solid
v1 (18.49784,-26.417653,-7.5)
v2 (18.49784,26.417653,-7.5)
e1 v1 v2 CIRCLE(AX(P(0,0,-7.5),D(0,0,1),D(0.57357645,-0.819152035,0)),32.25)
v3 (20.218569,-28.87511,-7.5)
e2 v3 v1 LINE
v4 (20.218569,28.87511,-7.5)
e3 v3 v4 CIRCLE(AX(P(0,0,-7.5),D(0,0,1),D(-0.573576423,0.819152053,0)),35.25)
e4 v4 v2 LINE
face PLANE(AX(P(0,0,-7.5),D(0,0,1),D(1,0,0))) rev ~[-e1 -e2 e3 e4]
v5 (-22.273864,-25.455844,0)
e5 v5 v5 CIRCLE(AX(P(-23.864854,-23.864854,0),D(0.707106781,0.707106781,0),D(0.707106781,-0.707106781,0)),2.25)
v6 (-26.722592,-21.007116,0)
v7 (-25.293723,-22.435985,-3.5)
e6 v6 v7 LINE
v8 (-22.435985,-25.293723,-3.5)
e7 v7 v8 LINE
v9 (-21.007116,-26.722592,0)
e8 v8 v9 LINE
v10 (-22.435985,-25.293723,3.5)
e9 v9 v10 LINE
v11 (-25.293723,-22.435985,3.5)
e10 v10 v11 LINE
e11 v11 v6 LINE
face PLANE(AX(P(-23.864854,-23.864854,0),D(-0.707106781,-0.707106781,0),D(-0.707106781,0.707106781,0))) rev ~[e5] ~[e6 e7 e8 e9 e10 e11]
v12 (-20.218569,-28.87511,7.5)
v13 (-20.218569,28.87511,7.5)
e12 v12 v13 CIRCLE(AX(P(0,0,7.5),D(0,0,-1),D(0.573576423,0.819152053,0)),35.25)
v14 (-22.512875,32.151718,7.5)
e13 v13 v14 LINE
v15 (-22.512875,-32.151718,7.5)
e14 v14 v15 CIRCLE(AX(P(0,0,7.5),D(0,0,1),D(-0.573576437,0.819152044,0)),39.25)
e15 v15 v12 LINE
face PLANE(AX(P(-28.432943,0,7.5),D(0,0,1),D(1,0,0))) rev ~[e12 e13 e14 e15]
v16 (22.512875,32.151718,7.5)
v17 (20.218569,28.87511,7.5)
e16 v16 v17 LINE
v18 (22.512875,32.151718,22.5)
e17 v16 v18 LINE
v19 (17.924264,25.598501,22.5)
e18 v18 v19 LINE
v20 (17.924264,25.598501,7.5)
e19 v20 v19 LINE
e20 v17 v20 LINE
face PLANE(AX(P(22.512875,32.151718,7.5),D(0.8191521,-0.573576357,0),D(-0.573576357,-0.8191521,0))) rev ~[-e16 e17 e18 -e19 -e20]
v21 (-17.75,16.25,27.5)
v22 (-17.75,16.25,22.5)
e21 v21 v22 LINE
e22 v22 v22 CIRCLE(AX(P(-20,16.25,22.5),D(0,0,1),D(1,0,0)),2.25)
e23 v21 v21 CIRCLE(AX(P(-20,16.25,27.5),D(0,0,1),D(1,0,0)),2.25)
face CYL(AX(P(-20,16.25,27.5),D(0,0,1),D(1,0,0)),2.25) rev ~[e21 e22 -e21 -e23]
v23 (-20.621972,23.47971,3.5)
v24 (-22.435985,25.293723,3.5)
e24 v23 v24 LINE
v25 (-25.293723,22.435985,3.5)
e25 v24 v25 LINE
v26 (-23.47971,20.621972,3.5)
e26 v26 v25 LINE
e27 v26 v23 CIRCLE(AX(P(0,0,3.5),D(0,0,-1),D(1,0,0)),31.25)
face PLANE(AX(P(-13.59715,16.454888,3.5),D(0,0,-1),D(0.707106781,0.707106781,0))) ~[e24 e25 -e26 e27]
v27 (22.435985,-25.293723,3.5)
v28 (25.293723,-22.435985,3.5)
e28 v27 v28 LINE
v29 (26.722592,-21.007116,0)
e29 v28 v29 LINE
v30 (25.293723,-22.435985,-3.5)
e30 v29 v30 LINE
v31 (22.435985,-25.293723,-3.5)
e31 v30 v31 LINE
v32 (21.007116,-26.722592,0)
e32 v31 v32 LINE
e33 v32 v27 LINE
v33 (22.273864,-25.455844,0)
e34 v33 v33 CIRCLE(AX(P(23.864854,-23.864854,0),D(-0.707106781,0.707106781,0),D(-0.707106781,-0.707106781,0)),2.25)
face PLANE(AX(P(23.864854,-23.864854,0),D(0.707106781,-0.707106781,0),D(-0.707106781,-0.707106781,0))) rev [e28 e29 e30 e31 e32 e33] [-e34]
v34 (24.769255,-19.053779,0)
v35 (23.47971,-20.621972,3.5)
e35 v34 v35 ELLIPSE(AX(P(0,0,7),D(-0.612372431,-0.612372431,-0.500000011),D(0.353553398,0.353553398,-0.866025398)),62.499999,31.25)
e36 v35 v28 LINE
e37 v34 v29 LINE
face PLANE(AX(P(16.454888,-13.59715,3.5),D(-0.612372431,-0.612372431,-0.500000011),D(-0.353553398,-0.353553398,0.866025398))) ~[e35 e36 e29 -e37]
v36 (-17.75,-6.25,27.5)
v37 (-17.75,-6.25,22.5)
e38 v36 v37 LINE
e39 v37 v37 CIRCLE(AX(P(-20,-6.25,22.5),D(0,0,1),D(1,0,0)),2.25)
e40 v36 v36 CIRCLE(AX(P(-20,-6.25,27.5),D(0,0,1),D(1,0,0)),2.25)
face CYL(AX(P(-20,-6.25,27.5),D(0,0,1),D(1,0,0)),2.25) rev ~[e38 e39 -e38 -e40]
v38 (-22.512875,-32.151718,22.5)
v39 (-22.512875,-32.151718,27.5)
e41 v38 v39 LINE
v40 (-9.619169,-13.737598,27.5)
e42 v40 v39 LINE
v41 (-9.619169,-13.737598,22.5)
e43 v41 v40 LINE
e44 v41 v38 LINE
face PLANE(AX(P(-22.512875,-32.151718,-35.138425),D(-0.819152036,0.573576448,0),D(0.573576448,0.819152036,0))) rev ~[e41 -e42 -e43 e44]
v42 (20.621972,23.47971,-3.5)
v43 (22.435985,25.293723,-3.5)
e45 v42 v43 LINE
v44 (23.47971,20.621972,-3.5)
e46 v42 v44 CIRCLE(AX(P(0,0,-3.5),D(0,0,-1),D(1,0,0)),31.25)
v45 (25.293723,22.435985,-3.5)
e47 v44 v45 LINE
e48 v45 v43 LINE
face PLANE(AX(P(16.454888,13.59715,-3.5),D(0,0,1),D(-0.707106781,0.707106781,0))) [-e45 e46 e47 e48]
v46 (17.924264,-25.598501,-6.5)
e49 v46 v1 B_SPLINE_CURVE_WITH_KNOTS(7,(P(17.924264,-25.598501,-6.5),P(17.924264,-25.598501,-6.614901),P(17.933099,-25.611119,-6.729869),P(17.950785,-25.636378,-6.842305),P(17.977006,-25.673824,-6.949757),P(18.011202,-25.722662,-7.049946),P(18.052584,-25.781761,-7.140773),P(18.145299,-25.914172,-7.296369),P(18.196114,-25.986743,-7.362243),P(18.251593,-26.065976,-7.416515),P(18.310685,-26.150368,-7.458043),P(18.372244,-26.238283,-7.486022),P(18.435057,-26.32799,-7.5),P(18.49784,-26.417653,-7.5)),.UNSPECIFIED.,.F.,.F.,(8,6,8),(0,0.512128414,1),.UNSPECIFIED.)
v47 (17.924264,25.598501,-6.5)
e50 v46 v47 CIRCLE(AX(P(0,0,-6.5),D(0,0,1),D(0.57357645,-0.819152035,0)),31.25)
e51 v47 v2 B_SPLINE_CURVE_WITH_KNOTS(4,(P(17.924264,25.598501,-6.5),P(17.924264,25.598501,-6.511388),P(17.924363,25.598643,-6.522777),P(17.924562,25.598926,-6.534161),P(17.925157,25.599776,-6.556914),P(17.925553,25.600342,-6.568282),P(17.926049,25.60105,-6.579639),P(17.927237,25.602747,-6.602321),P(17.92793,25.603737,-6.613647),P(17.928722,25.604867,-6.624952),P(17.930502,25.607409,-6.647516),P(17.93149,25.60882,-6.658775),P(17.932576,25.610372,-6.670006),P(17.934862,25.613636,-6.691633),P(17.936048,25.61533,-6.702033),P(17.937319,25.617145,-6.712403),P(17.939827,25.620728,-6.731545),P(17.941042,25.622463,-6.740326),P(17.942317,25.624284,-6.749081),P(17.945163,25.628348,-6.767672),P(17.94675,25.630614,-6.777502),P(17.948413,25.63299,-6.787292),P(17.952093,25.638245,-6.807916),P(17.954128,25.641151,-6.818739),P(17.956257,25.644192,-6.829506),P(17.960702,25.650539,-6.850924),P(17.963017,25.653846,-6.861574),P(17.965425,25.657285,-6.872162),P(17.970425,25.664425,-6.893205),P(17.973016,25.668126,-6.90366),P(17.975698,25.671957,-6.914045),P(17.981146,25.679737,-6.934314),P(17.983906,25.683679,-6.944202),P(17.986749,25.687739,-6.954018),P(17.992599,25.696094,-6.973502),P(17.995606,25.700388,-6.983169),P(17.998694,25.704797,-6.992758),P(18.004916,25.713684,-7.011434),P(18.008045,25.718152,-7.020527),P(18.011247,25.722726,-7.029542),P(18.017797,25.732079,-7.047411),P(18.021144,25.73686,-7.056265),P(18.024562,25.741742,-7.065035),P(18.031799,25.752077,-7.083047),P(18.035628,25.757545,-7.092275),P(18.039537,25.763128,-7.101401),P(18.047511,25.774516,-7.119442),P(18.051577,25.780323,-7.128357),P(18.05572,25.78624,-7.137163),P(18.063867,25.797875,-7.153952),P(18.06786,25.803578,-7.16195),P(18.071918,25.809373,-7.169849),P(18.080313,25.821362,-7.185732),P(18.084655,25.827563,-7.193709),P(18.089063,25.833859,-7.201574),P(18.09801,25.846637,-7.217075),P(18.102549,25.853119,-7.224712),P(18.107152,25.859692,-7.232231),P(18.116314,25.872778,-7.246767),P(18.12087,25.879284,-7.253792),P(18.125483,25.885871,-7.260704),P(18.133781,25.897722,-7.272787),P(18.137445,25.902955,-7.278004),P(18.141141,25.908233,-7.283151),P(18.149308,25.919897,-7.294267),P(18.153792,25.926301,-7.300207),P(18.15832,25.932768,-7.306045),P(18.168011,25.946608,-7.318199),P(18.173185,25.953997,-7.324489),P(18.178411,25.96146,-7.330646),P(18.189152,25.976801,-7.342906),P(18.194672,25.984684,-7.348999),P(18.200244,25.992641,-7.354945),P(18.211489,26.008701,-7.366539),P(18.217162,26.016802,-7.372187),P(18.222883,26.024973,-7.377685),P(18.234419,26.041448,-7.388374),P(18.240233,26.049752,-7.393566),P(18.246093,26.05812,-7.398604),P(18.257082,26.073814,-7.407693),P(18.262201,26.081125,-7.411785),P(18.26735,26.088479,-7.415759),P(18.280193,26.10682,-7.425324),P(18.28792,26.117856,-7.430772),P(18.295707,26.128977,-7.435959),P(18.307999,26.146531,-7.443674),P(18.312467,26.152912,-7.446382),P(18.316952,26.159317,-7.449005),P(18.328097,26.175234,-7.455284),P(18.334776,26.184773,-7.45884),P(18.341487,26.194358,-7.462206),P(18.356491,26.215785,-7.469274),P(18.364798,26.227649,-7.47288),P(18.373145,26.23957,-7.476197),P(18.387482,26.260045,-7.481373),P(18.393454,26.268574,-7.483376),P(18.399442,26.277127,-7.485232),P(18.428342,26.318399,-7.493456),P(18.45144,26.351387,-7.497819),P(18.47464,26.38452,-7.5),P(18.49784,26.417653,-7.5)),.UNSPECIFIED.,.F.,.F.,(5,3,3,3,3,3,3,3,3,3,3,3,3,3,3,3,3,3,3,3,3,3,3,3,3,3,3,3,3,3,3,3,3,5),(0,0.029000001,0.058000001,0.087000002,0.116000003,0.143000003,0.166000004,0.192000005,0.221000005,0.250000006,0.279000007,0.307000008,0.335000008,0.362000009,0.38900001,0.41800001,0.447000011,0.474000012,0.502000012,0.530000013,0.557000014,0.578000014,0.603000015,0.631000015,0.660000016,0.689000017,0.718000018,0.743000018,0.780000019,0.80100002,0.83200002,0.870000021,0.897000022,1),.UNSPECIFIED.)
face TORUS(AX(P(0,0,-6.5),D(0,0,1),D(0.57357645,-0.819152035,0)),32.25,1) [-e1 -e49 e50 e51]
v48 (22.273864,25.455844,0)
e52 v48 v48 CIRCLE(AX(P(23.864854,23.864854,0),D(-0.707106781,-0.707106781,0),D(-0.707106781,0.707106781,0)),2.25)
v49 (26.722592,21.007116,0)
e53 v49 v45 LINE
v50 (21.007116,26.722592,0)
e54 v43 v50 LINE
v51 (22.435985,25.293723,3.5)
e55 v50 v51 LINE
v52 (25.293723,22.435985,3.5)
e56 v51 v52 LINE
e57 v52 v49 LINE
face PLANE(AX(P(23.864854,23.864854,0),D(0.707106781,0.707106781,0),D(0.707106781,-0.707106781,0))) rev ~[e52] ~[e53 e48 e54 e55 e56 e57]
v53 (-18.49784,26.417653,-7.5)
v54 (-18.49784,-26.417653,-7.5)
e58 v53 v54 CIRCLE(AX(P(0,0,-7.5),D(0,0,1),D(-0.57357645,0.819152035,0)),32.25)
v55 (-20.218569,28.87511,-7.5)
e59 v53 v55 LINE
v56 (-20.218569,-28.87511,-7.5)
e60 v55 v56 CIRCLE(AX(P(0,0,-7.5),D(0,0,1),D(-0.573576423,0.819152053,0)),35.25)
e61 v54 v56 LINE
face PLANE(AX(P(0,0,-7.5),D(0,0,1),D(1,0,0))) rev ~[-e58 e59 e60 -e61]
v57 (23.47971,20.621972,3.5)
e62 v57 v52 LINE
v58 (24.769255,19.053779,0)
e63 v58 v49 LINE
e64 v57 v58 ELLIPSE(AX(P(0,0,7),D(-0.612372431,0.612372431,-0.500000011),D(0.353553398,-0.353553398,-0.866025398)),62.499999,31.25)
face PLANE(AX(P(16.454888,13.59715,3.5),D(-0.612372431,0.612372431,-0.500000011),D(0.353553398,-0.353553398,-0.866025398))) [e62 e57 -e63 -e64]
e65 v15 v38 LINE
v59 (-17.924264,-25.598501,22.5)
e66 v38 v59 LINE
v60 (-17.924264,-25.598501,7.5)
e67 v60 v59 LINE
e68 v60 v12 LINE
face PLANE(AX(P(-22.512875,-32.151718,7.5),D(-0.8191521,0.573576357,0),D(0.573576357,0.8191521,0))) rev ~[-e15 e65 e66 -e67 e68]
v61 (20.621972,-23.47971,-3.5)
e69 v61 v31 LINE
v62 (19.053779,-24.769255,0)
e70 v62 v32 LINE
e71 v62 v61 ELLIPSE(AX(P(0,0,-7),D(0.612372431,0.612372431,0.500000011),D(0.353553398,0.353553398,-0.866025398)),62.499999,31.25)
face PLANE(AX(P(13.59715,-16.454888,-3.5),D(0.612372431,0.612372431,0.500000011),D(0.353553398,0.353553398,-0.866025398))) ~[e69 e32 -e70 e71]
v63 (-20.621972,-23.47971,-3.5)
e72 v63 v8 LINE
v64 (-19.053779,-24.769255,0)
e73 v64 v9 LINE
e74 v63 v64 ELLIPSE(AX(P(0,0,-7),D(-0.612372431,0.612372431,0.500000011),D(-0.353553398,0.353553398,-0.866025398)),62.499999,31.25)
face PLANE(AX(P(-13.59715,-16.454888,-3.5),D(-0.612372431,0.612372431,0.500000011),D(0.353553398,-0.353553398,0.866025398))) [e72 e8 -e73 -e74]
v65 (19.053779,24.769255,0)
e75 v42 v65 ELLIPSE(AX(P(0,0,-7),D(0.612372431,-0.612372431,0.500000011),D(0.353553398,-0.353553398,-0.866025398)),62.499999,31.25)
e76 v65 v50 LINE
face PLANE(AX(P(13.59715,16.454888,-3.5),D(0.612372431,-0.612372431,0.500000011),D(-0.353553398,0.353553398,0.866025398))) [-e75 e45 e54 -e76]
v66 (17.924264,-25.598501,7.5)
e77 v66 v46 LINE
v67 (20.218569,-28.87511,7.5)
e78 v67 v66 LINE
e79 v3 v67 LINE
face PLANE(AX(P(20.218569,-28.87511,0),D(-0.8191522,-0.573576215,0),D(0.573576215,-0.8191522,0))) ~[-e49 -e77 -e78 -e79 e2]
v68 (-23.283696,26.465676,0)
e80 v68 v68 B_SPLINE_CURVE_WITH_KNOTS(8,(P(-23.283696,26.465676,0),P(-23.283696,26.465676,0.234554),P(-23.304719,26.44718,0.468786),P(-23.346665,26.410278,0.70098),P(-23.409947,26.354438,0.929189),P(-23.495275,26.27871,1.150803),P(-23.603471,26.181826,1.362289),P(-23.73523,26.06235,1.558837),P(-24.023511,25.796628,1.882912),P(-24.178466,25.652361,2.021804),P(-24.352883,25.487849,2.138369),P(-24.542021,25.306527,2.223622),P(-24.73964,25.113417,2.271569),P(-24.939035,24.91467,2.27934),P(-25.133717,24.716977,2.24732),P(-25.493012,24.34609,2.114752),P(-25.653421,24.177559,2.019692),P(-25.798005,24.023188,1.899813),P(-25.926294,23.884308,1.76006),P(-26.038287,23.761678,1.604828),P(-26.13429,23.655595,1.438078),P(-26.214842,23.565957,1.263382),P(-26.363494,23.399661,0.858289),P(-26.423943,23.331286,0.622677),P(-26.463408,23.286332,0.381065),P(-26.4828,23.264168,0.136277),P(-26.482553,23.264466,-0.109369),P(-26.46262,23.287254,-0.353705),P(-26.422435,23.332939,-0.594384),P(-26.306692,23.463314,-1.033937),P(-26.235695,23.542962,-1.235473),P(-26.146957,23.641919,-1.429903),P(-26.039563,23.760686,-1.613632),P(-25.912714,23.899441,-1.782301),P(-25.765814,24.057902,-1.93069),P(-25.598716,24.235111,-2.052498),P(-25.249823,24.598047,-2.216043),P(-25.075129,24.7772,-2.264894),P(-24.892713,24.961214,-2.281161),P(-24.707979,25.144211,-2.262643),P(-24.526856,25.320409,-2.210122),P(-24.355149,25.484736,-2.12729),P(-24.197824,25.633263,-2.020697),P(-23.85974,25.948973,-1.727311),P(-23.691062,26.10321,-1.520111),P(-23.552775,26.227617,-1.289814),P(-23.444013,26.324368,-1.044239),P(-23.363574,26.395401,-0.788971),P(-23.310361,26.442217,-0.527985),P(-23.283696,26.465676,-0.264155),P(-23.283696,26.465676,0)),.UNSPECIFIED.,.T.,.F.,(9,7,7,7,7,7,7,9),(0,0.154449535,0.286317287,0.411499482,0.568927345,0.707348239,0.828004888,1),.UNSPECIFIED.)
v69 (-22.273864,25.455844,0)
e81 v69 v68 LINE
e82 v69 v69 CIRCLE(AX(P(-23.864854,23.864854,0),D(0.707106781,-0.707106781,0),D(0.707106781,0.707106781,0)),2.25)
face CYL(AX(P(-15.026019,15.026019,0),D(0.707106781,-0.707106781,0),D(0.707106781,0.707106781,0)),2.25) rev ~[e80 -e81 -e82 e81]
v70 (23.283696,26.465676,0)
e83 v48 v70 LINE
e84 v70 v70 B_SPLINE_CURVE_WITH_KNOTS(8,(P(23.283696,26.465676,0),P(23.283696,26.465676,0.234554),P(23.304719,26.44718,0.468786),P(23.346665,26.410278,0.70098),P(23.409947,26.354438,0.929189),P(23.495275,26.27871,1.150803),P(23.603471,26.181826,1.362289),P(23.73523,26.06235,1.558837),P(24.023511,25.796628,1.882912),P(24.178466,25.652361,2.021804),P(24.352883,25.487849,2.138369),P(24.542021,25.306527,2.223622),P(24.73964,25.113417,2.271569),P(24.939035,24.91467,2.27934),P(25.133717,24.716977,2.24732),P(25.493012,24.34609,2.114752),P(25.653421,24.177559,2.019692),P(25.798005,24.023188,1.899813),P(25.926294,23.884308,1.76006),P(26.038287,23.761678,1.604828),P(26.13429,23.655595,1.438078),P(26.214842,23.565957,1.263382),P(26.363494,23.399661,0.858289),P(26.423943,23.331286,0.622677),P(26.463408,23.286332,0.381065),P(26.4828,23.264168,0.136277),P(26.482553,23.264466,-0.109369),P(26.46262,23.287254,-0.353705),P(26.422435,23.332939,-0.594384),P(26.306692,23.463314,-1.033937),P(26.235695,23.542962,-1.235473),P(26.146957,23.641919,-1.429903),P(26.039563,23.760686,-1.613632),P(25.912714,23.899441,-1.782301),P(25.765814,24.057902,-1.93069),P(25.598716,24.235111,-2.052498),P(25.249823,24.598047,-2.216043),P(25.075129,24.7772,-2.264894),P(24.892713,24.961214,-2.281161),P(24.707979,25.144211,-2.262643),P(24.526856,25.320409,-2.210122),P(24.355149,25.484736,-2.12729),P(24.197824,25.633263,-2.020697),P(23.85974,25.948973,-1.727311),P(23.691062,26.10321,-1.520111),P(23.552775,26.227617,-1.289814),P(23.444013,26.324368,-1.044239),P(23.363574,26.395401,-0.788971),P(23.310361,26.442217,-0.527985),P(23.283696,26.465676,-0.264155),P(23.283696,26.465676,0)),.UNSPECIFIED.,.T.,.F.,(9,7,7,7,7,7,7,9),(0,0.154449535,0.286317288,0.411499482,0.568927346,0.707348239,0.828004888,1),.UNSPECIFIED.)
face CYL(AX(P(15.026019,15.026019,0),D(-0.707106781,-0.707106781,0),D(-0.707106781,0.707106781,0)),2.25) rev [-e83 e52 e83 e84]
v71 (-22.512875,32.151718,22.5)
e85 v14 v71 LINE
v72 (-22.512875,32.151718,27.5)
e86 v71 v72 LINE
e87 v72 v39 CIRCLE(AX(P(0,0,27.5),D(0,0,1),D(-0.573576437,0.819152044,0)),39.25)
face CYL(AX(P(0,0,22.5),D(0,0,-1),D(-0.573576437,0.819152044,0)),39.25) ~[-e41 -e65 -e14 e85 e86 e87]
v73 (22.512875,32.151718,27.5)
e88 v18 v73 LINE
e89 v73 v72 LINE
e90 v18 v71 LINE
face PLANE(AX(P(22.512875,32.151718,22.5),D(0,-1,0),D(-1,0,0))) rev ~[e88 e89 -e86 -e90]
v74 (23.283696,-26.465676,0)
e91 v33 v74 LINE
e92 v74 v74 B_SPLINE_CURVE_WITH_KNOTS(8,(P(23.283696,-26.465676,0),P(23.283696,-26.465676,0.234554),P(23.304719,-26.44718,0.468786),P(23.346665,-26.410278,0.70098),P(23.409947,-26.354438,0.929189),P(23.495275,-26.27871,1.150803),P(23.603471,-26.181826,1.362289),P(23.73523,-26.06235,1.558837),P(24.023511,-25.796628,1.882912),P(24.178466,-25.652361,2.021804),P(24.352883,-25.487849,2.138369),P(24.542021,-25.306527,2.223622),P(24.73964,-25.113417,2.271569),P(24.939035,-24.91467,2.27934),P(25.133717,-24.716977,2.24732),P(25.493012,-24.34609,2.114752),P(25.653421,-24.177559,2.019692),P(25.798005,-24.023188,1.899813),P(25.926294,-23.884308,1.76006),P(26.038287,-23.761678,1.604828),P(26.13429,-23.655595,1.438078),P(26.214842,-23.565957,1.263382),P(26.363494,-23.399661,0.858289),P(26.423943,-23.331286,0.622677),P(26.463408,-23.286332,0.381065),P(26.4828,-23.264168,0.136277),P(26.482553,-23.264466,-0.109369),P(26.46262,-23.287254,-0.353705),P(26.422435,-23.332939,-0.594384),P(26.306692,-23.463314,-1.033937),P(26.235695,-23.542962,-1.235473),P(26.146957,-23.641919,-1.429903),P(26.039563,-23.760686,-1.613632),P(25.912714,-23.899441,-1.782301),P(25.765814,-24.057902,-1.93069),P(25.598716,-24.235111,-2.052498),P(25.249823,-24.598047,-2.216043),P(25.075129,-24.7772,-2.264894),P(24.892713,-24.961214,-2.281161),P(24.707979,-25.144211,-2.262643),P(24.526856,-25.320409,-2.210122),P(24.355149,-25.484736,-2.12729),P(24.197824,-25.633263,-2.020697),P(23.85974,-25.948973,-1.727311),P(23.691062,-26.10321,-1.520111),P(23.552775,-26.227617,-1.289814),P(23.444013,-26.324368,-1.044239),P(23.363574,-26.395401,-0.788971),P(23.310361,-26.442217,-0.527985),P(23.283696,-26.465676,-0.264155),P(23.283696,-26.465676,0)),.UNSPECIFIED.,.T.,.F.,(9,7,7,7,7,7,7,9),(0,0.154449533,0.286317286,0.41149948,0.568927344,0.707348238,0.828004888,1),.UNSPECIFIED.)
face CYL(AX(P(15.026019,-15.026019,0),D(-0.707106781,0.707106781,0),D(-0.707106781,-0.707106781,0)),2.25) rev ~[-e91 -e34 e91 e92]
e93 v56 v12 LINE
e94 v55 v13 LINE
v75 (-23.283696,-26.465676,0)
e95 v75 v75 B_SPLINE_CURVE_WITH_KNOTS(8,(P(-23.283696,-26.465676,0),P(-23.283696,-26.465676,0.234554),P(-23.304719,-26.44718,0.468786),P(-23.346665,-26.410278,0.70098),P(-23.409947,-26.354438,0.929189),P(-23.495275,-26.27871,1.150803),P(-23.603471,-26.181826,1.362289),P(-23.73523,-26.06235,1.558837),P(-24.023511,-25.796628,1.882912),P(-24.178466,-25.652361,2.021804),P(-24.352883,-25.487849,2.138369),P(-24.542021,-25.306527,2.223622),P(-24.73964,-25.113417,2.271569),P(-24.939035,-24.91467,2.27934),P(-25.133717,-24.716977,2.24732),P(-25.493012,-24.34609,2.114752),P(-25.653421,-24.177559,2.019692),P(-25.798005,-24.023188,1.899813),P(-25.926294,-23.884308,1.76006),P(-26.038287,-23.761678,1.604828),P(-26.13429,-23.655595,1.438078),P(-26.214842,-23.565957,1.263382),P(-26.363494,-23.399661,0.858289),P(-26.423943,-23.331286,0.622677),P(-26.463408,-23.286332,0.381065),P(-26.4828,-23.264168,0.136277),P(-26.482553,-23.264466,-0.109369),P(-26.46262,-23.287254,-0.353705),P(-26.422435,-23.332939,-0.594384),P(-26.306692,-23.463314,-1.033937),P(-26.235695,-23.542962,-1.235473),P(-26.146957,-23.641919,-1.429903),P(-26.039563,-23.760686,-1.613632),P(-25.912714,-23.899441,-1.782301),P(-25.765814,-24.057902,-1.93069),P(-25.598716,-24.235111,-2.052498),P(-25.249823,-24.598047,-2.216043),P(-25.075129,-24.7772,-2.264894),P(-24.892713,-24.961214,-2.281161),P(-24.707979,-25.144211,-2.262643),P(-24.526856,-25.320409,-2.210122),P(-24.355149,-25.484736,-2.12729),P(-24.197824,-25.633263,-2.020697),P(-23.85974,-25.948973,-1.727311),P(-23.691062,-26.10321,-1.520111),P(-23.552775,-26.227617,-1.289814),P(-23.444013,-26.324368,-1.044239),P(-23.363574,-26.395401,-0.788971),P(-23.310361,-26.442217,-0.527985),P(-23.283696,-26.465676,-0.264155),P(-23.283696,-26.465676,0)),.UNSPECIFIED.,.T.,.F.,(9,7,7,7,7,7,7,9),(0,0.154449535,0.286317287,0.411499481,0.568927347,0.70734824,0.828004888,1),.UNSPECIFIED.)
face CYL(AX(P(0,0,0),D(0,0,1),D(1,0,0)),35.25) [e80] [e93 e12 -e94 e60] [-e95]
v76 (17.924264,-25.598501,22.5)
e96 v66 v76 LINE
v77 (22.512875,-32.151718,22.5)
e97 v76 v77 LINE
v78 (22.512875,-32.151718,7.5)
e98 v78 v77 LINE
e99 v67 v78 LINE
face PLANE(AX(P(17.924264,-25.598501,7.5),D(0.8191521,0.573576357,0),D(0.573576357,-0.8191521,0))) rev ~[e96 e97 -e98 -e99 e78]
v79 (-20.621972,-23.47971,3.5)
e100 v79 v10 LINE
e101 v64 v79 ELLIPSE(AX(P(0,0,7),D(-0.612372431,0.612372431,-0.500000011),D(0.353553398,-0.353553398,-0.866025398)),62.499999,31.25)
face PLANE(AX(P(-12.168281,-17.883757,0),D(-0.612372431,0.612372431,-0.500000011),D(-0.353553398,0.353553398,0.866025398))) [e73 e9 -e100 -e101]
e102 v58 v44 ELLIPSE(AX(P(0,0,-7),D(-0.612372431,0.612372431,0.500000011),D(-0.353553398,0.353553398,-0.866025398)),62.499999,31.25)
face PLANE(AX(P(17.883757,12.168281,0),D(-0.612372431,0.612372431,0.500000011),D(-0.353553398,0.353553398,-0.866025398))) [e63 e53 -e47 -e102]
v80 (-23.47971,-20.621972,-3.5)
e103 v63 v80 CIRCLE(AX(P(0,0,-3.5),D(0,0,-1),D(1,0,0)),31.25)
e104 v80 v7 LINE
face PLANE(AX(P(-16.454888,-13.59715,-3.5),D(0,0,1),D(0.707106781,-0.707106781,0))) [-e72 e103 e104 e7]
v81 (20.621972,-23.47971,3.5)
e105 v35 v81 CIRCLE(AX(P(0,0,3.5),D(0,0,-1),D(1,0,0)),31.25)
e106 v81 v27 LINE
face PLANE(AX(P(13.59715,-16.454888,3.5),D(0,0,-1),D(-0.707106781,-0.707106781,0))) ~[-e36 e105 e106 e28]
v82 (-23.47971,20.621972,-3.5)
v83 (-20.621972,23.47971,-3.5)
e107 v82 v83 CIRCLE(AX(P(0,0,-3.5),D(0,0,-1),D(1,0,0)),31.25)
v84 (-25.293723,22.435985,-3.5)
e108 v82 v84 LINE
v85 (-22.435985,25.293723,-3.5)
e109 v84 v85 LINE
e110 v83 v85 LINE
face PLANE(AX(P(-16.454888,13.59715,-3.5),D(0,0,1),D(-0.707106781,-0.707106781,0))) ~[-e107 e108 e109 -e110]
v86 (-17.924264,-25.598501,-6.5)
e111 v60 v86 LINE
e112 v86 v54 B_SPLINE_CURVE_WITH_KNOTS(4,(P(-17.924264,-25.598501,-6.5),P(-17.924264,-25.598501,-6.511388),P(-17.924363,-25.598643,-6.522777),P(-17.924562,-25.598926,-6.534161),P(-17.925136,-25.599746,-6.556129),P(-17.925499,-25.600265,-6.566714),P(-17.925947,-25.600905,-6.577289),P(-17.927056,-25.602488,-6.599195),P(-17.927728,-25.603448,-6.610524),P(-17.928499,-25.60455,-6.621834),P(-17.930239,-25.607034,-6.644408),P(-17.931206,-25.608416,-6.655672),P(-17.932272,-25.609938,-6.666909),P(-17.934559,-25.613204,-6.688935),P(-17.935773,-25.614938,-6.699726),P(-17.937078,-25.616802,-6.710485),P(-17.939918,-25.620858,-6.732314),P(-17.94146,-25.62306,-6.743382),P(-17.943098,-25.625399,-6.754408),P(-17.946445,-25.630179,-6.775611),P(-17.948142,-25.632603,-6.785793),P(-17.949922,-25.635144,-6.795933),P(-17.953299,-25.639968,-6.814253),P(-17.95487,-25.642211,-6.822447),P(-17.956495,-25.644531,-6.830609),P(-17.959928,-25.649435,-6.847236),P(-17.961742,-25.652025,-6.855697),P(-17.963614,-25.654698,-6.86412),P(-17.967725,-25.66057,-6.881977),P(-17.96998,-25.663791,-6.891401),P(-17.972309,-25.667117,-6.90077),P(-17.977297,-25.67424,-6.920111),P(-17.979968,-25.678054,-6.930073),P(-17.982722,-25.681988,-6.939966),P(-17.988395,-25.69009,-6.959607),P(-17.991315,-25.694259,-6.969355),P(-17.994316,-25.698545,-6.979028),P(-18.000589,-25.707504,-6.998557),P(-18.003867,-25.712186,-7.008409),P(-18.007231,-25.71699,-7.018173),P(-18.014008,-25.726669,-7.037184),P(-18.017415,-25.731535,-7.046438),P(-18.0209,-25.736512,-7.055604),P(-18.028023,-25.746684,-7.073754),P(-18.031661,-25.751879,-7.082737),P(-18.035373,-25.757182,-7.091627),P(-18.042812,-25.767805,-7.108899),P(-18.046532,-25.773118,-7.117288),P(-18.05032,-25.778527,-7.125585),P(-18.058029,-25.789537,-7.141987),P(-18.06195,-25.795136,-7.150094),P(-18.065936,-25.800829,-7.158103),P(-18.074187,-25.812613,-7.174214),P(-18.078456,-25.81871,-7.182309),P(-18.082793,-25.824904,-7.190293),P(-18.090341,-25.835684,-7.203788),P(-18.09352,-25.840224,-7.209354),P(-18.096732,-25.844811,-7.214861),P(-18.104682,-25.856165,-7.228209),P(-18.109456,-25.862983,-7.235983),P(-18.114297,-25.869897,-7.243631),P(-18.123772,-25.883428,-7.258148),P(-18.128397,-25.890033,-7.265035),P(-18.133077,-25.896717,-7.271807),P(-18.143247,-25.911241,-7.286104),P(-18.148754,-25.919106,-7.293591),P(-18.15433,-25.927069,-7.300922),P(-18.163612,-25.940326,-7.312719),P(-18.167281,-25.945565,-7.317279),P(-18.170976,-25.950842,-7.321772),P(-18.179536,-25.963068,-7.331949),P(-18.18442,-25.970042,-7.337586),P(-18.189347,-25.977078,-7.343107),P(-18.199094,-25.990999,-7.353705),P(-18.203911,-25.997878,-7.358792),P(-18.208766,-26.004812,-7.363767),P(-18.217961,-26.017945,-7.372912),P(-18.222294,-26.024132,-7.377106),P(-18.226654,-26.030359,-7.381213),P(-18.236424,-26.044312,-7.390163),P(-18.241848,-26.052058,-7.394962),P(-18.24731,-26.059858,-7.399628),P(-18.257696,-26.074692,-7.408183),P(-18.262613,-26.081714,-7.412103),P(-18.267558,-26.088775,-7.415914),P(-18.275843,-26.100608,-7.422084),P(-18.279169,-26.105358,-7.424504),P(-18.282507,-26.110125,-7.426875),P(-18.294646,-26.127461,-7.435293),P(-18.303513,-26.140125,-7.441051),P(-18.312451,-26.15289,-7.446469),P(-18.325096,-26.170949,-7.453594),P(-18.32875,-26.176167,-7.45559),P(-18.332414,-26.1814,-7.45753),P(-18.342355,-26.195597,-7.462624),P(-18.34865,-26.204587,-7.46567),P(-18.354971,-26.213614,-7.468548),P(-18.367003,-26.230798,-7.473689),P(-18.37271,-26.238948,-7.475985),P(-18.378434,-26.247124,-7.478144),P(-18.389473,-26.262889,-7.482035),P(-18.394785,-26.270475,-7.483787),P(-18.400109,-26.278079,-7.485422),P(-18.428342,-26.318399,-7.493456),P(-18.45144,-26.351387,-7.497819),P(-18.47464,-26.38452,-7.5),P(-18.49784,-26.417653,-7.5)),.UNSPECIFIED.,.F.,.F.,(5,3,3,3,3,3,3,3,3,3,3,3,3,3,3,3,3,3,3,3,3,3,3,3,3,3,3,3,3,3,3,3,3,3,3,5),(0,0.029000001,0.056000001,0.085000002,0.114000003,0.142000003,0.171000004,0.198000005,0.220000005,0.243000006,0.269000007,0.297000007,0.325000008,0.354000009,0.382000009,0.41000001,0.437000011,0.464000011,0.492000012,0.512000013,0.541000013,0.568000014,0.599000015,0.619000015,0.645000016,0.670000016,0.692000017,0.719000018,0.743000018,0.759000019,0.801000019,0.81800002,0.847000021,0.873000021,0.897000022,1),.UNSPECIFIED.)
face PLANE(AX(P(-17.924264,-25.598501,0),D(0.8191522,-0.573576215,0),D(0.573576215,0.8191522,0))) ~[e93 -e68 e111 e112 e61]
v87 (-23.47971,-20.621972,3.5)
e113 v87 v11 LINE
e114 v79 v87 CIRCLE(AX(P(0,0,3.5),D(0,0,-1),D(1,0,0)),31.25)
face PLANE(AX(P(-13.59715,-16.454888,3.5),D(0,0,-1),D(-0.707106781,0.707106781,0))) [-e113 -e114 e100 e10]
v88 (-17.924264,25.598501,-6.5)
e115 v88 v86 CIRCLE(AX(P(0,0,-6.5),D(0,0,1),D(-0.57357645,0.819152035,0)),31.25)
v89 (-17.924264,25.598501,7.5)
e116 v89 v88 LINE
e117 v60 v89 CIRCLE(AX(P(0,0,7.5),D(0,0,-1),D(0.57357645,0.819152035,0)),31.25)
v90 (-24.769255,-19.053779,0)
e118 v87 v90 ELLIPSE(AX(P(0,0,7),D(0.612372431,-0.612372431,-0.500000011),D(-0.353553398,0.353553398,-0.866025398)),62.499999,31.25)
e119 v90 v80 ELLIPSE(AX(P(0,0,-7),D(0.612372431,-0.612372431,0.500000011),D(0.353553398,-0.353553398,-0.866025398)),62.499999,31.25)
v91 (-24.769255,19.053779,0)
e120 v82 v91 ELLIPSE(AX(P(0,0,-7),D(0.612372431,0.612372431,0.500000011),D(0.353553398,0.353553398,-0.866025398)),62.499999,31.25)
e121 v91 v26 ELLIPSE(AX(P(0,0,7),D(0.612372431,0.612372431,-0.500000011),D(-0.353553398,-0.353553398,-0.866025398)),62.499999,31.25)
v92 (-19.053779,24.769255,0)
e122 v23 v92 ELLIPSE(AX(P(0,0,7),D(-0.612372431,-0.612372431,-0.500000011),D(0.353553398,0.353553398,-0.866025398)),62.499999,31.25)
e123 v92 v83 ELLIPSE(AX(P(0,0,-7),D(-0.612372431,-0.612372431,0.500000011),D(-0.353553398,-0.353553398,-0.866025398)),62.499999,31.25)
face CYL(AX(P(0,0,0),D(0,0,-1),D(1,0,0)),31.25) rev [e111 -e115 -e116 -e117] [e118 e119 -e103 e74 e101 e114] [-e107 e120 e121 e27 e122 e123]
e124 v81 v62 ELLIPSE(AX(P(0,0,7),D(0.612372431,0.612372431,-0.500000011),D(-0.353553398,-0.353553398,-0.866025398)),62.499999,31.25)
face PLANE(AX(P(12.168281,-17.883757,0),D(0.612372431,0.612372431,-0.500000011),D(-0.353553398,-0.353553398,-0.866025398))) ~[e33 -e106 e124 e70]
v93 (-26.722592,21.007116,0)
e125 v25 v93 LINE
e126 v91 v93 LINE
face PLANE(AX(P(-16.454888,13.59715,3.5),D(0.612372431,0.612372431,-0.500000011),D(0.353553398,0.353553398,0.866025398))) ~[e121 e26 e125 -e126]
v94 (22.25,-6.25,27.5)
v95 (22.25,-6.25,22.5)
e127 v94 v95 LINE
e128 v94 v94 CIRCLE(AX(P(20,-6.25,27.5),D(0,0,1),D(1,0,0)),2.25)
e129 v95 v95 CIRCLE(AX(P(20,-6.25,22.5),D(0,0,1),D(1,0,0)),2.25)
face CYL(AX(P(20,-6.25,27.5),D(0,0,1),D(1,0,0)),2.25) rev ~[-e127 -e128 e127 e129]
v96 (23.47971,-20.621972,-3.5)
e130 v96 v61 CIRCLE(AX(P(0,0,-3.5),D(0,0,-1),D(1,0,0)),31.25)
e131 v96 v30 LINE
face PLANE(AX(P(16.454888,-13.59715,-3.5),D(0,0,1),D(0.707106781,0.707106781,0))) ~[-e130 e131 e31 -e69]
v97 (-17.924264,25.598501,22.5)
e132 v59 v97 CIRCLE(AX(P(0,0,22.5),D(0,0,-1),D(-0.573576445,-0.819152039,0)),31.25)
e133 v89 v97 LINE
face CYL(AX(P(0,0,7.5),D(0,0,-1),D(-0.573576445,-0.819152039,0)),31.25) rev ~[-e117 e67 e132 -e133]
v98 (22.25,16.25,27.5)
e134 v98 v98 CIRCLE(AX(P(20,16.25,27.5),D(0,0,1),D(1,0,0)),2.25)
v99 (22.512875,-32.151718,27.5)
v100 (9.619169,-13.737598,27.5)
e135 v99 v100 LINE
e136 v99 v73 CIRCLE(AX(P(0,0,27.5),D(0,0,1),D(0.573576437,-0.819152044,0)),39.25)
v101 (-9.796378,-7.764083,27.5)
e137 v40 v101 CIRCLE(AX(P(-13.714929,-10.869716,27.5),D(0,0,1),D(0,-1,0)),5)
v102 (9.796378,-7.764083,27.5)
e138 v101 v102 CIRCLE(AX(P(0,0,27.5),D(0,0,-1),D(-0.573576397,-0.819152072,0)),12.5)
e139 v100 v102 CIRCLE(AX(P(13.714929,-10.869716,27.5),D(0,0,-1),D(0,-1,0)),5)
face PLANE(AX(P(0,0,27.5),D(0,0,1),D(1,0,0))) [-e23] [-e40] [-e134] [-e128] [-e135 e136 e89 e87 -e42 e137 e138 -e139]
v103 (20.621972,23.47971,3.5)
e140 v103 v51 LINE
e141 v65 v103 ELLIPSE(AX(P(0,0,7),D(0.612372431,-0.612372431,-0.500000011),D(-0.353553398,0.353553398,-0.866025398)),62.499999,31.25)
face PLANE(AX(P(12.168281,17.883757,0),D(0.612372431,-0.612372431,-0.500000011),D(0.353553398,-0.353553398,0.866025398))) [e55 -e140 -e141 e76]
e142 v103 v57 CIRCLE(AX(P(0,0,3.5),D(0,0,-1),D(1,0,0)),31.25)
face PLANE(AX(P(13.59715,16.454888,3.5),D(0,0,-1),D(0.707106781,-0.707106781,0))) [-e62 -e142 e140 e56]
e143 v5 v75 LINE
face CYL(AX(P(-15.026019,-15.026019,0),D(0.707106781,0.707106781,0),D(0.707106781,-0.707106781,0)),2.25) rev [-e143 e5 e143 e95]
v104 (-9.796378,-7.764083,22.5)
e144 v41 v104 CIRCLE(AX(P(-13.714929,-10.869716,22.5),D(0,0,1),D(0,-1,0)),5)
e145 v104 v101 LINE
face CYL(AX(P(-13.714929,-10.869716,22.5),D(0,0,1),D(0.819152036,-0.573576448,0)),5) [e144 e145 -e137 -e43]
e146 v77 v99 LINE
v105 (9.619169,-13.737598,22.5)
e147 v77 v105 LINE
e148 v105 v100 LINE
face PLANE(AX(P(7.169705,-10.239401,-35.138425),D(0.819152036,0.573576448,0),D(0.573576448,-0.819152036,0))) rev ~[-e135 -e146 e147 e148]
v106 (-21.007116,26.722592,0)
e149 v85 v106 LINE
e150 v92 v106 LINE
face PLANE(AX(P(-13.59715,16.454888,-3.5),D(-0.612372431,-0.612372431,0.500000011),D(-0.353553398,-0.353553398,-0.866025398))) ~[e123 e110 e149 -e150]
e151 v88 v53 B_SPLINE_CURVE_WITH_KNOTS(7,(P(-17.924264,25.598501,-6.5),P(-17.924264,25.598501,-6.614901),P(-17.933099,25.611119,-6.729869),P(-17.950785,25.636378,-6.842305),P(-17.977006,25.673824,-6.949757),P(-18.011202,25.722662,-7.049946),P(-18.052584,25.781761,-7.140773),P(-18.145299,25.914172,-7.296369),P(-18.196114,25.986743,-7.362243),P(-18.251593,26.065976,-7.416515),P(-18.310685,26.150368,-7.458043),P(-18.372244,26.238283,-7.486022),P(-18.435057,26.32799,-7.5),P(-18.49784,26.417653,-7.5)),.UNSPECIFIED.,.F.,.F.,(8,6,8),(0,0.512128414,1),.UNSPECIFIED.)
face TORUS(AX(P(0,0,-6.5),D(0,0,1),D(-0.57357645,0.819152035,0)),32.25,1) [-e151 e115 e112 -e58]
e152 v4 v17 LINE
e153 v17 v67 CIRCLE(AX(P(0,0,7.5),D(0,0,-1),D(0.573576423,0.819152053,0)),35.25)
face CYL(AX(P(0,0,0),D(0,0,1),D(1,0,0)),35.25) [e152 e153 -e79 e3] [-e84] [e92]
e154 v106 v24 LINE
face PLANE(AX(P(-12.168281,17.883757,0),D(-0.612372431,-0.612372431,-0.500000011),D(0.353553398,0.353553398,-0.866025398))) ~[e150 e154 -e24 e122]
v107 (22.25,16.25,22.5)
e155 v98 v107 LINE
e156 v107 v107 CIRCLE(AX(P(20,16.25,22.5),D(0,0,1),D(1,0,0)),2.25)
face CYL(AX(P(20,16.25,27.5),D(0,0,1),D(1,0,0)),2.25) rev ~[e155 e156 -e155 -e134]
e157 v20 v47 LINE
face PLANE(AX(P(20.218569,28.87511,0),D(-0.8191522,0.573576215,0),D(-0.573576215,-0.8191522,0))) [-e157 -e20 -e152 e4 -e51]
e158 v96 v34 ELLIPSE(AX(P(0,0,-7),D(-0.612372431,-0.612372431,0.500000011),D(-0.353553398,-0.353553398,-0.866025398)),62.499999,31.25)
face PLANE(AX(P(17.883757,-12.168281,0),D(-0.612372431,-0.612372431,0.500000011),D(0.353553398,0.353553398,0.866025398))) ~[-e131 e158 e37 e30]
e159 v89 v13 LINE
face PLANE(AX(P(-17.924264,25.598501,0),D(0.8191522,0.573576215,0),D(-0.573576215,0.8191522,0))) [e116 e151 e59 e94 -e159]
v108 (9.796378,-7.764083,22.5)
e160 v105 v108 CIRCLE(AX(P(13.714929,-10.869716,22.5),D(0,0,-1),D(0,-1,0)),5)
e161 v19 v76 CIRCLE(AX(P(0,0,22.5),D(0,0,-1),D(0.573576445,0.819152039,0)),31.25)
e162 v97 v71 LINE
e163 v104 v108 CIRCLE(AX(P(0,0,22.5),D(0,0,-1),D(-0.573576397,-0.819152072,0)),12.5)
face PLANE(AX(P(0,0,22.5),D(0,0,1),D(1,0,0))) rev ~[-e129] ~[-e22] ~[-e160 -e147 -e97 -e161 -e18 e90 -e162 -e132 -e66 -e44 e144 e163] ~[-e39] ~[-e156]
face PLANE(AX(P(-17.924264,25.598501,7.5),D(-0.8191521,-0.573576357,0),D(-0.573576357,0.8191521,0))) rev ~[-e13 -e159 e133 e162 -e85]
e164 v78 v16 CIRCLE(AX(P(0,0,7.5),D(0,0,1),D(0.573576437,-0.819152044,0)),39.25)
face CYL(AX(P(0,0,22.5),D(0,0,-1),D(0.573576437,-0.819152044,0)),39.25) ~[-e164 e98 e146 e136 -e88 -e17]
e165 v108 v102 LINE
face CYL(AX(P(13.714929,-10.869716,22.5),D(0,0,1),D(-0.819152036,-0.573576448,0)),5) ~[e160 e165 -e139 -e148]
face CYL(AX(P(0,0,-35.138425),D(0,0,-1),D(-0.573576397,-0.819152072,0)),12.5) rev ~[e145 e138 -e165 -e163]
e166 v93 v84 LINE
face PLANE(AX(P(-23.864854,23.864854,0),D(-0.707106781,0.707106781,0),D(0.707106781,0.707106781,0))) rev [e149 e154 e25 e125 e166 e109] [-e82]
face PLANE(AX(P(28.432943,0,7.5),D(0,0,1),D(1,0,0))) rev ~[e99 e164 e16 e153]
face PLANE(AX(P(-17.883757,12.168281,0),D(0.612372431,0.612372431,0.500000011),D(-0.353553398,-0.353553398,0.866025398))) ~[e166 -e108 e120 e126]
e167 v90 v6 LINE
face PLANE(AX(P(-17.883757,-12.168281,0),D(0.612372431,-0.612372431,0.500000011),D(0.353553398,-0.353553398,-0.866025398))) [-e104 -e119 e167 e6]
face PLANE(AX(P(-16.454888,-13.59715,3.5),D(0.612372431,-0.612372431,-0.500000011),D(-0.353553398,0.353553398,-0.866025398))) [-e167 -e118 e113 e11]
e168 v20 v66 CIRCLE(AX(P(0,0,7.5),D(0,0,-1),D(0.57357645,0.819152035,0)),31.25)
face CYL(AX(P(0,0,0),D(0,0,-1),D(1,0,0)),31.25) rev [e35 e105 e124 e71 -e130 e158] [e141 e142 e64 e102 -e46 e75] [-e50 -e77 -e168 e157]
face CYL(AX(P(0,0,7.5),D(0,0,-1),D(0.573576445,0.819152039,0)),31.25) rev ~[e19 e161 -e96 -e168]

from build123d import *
from build123d.topology import SkipClean

# Parameters (mm, degrees)
SKETCH1_R               = 35.25
SKETCH1_R_2             = 31.25
BOSS_EXTRUDE1_DEPTH     = 7.5
CUT_EXTRUDE1_DEPTH      = 51.412052
BOSS_EXTRUDE2_DEPTH     = 15
BOSS_EXTRUDE3_DEPTH     = 5
CUT_EXTRUDE2_START      = -10
SKETCH8_R               = 2.25
CUT_EXTRUDE2_DEPTH      = 97.386619
CUT_EXTRUDE3_START      = -10
CUT_EXTRUDE3_DEPTH      = 12.5
MIRROR3_START           = -10
MIRROR3_COPY_1_SKETCH_R = 2.25
MIRROR3_COPY_1_DEPTH    = 97.386619
MIRROR3_COPY_2_DEPTH    = 12.5
CUT_EXTRUDE4_DEPTH      = 62.638425
CUT_EXTRUDE4_DEPTH_BACK = 62.638425
FILLET1_R               = 5
SKETCH11_R              = 2.25
EXAMPLE_MOUNT_DEPTH     = 62.638425
FILLET2_R               = 1


with BuildPart() as part:
    # Sketch1 → Boss-Extrude1 (new, symmetric)
    with BuildSketch(Plane.XY):
        Circle(SKETCH1_R)
        Circle(SKETCH1_R_2, mode=Mode.SUBTRACT)
    extrude(amount=BOSS_EXTRUDE1_DEPTH, both=True)

    # Sketch2 → Cut-Extrude1 (cut, symmetric)
    with BuildSketch(Plane.XY):
        with BuildLine():
            Line((20.218569, 28.87511), (17.924264, 25.598501))
            ThreePointArc((17.924264, 25.598501), (0, 31.25), (-17.924264, 25.598501))
            Line((-17.924264, 25.598501), (-20.218569, 28.87511))
            ThreePointArc((-20.218569, 28.87511), (0, 35.25), (20.218569, 28.87511))
        make_face()
    cut_extrude1 = extrude(amount=CUT_EXTRUDE1_DEPTH, both=True, mode=Mode.SUBTRACT)

    # Mirror1: Cut-Extrude1 across plane
    add(cut_extrude1.mirror(Plane.ZX), mode=Mode.SUBTRACT)

    # Sketch3 → Boss-Extrude2 (add)
    with SkipClean():  # the faces are left unmerged after this step: merging them gives an invalid solid
        with BuildSketch(Plane.XY.offset(7.5)):
            with BuildLine():
                Line((-17.924264, 25.598501), (-22.512875, 32.151718))
                ThreePointArc((-22.512875, 32.151718), (-39.25, 0), (-22.512875, -32.151718))
                Line((-22.512875, -32.151718), (-17.924264, -25.598501))
                ThreePointArc((-17.924264, -25.598501), (-31.25, 0), (-17.924264, 25.598501))
            make_face()
            with BuildLine():
                Line((17.924264, -25.598501), (22.512875, -32.151718))
                ThreePointArc((22.512875, -32.151718), (39.25, 0), (22.512875, 32.151718))
                Line((22.512875, 32.151718), (17.924264, 25.598501))
                ThreePointArc((17.924264, 25.598501), (31.25, 0), (17.924264, -25.598501))
            make_face()
        extrude(amount=BOSS_EXTRUDE2_DEPTH)

    # Sketch4 → Boss-Extrude3 (add)
    with SkipClean():  # the faces are left unmerged after this step: merging them gives an invalid solid
        with BuildSketch(Plane.XY.offset(22.5)):
            with BuildLine():
                Line((22.512875, 32.151718), (-22.512875, 32.151718))
                ThreePointArc((-22.512875, 32.151718), (-39.25, 0), (-22.512875, -32.151718))
                Line((-22.512875, -32.151718), (22.512875, -32.151718))
                ThreePointArc((22.512875, -32.151718), (39.25, 0), (22.512875, 32.151718))
            make_face()
        extrude(amount=BOSS_EXTRUDE3_DEPTH)

    # Sketch8 → Cut-Extrude2 (cut)
    with SkipClean():  # the faces are left unmerged after this step: merging them gives an invalid solid
        with BuildSketch(Plane(origin=(22.097087, 22.097087, 0), x_dir=(0.7071067811865486, -0.7071067811865465, 0), z_dir=(0.7071067811865465, 0.7071067811865486, 0)).offset(CUT_EXTRUDE2_START)):
            with Locations(Location((0, 0, 0), (0, 0, 180))):
                Circle(SKETCH8_R)
        cut_extrude2 = extrude(amount=CUT_EXTRUDE2_DEPTH, mode=Mode.SUBTRACT)

    # Sketch9 → Cut-Extrude3 (cut)
    with SkipClean():  # the faces are left unmerged after this step: merging them gives an invalid solid
        with BuildSketch(Plane(origin=(22.097087, 22.097087, 0), x_dir=(0.7071067811865486, -0.7071067811865465, 0), z_dir=(0.7071067811865465, 0.7071067811865486, 0)).offset(CUT_EXTRUDE3_START)):
            Polygon((2.020726, -3.5), (4.041452, 0), (2.020726, 3.5), (-2.020726, 3.5), (-4.041452, 0), (-2.020726, -3.5), align=None)
        cut_extrude3 = extrude(amount=CUT_EXTRUDE3_DEPTH, mode=Mode.SUBTRACT)

    # Mirror2: Cut-Extrude2, Cut-Extrude3 across plane
    with SkipClean():  # the faces are left unmerged after this step: merging them gives an invalid solid
        add(cut_extrude2.mirror(Plane.ZX), mode=Mode.SUBTRACT)
        add(cut_extrude3.mirror(Plane.ZX), mode=Mode.SUBTRACT)

    # Mirror3: Cut-Extrude2, Cut-Extrude3 across plane
    with SkipClean():  # the faces are left unmerged after this step: merging them gives an invalid solid
        add(cut_extrude2.mirror(Plane(origin=(0, 0, 0), x_dir=(0, 0, 1), z_dir=(1, 0, 0))), mode=Mode.SUBTRACT)
        add(cut_extrude3.mirror(Plane(origin=(0, 0, 0), x_dir=(0, 0, 1), z_dir=(1, 0, 0))), mode=Mode.SUBTRACT)

    # Mirror3 copy 1 sketch → Mirror3 copy 1 (cut)
    with SkipClean():  # the faces are left unmerged after this step: merging them gives an invalid solid
        with BuildSketch(Plane(origin=(-22.097087, -22.097087, 0), x_dir=(-0.7071067811865486, 0.7071067811865465, 0), z_dir=(-0.7071067811865465, -0.7071067811865486, 0)).offset(MIRROR3_START)):
            with Locations(Location((0, 0, 0), (0, 0, 180))):
                Circle(MIRROR3_COPY_1_SKETCH_R)
        extrude(amount=MIRROR3_COPY_1_DEPTH, mode=Mode.SUBTRACT)

    # Mirror3 copy 2 sketch → Mirror3 copy 2 (cut)
    with SkipClean():  # the faces are left unmerged after this step: merging them gives an invalid solid
        with BuildSketch(Plane(origin=(-22.097087, -22.097087, 0), x_dir=(-0.7071067811865486, 0.7071067811865465, 0), z_dir=(-0.7071067811865465, -0.7071067811865486, 0)).offset(MIRROR3_START)):
            Polygon((2.020726, -3.5), (4.041452, 0), (2.020726, 3.5), (-2.020726, 3.5), (-4.041452, 0), (-2.020726, -3.5), align=None)
        extrude(amount=MIRROR3_COPY_2_DEPTH, mode=Mode.SUBTRACT)

    # Sketch10 → Cut-Extrude4 (cut, two sides: drawn at the far end of the back side and taken through both)
    with SkipClean():  # the faces are left unmerged after this step: merging them gives an invalid solid
        with BuildSketch(Plane.XY.offset(27.5).offset(-CUT_EXTRUDE4_DEPTH_BACK)):
            with BuildLine():
                Line((-22.512875, -32.151718), (-7.169705, -10.239401))
                ThreePointArc((-7.169705, -10.239401), (0, 12.5), (7.169705, -10.239401))
                Line((7.169705, -10.239401), (22.512875, -32.151718))
                Line((22.512875, -32.151718), (-22.512875, -32.151718))
            make_face()
        extrude(amount=CUT_EXTRUDE4_DEPTH + CUT_EXTRUDE4_DEPTH_BACK, mode=Mode.SUBTRACT)

    # Fillet1
    fillet1_edges = [part.edges().sort_by_distance(p)[0] for p in [
        (-7.169705, -10.239401, 25),
        (7.169705, -10.239401, 25),
    ]]
    fillet(fillet1_edges, radius=FILLET1_R)

    # Sketch11 → example_mount (cut, through all)
    with SkipClean():  # the faces are left unmerged after this step: merging them gives an invalid solid
        with BuildSketch(Plane.XY.offset(27.5)):
            with Locations((-20, -6.25)):
                Circle(SKETCH11_R)
            with Locations((-20, 16.25)):
                Circle(SKETCH11_R)
            with Locations((20, 16.25)):
                Circle(SKETCH11_R)
            with Locations((20, -6.25)):
                Circle(SKETCH11_R)
        extrude(amount=-EXAMPLE_MOUNT_DEPTH, mode=Mode.SUBTRACT)

    # Fillet2
    fillet2_edges = [part.edges().sort_by_distance(p)[0] for p in [
        (-31.25, 0, -7.5),
        (31.25, 0, -7.5),
    ]]
    fillet(fillet2_edges, radius=FILLET2_R)


solid = part.part
